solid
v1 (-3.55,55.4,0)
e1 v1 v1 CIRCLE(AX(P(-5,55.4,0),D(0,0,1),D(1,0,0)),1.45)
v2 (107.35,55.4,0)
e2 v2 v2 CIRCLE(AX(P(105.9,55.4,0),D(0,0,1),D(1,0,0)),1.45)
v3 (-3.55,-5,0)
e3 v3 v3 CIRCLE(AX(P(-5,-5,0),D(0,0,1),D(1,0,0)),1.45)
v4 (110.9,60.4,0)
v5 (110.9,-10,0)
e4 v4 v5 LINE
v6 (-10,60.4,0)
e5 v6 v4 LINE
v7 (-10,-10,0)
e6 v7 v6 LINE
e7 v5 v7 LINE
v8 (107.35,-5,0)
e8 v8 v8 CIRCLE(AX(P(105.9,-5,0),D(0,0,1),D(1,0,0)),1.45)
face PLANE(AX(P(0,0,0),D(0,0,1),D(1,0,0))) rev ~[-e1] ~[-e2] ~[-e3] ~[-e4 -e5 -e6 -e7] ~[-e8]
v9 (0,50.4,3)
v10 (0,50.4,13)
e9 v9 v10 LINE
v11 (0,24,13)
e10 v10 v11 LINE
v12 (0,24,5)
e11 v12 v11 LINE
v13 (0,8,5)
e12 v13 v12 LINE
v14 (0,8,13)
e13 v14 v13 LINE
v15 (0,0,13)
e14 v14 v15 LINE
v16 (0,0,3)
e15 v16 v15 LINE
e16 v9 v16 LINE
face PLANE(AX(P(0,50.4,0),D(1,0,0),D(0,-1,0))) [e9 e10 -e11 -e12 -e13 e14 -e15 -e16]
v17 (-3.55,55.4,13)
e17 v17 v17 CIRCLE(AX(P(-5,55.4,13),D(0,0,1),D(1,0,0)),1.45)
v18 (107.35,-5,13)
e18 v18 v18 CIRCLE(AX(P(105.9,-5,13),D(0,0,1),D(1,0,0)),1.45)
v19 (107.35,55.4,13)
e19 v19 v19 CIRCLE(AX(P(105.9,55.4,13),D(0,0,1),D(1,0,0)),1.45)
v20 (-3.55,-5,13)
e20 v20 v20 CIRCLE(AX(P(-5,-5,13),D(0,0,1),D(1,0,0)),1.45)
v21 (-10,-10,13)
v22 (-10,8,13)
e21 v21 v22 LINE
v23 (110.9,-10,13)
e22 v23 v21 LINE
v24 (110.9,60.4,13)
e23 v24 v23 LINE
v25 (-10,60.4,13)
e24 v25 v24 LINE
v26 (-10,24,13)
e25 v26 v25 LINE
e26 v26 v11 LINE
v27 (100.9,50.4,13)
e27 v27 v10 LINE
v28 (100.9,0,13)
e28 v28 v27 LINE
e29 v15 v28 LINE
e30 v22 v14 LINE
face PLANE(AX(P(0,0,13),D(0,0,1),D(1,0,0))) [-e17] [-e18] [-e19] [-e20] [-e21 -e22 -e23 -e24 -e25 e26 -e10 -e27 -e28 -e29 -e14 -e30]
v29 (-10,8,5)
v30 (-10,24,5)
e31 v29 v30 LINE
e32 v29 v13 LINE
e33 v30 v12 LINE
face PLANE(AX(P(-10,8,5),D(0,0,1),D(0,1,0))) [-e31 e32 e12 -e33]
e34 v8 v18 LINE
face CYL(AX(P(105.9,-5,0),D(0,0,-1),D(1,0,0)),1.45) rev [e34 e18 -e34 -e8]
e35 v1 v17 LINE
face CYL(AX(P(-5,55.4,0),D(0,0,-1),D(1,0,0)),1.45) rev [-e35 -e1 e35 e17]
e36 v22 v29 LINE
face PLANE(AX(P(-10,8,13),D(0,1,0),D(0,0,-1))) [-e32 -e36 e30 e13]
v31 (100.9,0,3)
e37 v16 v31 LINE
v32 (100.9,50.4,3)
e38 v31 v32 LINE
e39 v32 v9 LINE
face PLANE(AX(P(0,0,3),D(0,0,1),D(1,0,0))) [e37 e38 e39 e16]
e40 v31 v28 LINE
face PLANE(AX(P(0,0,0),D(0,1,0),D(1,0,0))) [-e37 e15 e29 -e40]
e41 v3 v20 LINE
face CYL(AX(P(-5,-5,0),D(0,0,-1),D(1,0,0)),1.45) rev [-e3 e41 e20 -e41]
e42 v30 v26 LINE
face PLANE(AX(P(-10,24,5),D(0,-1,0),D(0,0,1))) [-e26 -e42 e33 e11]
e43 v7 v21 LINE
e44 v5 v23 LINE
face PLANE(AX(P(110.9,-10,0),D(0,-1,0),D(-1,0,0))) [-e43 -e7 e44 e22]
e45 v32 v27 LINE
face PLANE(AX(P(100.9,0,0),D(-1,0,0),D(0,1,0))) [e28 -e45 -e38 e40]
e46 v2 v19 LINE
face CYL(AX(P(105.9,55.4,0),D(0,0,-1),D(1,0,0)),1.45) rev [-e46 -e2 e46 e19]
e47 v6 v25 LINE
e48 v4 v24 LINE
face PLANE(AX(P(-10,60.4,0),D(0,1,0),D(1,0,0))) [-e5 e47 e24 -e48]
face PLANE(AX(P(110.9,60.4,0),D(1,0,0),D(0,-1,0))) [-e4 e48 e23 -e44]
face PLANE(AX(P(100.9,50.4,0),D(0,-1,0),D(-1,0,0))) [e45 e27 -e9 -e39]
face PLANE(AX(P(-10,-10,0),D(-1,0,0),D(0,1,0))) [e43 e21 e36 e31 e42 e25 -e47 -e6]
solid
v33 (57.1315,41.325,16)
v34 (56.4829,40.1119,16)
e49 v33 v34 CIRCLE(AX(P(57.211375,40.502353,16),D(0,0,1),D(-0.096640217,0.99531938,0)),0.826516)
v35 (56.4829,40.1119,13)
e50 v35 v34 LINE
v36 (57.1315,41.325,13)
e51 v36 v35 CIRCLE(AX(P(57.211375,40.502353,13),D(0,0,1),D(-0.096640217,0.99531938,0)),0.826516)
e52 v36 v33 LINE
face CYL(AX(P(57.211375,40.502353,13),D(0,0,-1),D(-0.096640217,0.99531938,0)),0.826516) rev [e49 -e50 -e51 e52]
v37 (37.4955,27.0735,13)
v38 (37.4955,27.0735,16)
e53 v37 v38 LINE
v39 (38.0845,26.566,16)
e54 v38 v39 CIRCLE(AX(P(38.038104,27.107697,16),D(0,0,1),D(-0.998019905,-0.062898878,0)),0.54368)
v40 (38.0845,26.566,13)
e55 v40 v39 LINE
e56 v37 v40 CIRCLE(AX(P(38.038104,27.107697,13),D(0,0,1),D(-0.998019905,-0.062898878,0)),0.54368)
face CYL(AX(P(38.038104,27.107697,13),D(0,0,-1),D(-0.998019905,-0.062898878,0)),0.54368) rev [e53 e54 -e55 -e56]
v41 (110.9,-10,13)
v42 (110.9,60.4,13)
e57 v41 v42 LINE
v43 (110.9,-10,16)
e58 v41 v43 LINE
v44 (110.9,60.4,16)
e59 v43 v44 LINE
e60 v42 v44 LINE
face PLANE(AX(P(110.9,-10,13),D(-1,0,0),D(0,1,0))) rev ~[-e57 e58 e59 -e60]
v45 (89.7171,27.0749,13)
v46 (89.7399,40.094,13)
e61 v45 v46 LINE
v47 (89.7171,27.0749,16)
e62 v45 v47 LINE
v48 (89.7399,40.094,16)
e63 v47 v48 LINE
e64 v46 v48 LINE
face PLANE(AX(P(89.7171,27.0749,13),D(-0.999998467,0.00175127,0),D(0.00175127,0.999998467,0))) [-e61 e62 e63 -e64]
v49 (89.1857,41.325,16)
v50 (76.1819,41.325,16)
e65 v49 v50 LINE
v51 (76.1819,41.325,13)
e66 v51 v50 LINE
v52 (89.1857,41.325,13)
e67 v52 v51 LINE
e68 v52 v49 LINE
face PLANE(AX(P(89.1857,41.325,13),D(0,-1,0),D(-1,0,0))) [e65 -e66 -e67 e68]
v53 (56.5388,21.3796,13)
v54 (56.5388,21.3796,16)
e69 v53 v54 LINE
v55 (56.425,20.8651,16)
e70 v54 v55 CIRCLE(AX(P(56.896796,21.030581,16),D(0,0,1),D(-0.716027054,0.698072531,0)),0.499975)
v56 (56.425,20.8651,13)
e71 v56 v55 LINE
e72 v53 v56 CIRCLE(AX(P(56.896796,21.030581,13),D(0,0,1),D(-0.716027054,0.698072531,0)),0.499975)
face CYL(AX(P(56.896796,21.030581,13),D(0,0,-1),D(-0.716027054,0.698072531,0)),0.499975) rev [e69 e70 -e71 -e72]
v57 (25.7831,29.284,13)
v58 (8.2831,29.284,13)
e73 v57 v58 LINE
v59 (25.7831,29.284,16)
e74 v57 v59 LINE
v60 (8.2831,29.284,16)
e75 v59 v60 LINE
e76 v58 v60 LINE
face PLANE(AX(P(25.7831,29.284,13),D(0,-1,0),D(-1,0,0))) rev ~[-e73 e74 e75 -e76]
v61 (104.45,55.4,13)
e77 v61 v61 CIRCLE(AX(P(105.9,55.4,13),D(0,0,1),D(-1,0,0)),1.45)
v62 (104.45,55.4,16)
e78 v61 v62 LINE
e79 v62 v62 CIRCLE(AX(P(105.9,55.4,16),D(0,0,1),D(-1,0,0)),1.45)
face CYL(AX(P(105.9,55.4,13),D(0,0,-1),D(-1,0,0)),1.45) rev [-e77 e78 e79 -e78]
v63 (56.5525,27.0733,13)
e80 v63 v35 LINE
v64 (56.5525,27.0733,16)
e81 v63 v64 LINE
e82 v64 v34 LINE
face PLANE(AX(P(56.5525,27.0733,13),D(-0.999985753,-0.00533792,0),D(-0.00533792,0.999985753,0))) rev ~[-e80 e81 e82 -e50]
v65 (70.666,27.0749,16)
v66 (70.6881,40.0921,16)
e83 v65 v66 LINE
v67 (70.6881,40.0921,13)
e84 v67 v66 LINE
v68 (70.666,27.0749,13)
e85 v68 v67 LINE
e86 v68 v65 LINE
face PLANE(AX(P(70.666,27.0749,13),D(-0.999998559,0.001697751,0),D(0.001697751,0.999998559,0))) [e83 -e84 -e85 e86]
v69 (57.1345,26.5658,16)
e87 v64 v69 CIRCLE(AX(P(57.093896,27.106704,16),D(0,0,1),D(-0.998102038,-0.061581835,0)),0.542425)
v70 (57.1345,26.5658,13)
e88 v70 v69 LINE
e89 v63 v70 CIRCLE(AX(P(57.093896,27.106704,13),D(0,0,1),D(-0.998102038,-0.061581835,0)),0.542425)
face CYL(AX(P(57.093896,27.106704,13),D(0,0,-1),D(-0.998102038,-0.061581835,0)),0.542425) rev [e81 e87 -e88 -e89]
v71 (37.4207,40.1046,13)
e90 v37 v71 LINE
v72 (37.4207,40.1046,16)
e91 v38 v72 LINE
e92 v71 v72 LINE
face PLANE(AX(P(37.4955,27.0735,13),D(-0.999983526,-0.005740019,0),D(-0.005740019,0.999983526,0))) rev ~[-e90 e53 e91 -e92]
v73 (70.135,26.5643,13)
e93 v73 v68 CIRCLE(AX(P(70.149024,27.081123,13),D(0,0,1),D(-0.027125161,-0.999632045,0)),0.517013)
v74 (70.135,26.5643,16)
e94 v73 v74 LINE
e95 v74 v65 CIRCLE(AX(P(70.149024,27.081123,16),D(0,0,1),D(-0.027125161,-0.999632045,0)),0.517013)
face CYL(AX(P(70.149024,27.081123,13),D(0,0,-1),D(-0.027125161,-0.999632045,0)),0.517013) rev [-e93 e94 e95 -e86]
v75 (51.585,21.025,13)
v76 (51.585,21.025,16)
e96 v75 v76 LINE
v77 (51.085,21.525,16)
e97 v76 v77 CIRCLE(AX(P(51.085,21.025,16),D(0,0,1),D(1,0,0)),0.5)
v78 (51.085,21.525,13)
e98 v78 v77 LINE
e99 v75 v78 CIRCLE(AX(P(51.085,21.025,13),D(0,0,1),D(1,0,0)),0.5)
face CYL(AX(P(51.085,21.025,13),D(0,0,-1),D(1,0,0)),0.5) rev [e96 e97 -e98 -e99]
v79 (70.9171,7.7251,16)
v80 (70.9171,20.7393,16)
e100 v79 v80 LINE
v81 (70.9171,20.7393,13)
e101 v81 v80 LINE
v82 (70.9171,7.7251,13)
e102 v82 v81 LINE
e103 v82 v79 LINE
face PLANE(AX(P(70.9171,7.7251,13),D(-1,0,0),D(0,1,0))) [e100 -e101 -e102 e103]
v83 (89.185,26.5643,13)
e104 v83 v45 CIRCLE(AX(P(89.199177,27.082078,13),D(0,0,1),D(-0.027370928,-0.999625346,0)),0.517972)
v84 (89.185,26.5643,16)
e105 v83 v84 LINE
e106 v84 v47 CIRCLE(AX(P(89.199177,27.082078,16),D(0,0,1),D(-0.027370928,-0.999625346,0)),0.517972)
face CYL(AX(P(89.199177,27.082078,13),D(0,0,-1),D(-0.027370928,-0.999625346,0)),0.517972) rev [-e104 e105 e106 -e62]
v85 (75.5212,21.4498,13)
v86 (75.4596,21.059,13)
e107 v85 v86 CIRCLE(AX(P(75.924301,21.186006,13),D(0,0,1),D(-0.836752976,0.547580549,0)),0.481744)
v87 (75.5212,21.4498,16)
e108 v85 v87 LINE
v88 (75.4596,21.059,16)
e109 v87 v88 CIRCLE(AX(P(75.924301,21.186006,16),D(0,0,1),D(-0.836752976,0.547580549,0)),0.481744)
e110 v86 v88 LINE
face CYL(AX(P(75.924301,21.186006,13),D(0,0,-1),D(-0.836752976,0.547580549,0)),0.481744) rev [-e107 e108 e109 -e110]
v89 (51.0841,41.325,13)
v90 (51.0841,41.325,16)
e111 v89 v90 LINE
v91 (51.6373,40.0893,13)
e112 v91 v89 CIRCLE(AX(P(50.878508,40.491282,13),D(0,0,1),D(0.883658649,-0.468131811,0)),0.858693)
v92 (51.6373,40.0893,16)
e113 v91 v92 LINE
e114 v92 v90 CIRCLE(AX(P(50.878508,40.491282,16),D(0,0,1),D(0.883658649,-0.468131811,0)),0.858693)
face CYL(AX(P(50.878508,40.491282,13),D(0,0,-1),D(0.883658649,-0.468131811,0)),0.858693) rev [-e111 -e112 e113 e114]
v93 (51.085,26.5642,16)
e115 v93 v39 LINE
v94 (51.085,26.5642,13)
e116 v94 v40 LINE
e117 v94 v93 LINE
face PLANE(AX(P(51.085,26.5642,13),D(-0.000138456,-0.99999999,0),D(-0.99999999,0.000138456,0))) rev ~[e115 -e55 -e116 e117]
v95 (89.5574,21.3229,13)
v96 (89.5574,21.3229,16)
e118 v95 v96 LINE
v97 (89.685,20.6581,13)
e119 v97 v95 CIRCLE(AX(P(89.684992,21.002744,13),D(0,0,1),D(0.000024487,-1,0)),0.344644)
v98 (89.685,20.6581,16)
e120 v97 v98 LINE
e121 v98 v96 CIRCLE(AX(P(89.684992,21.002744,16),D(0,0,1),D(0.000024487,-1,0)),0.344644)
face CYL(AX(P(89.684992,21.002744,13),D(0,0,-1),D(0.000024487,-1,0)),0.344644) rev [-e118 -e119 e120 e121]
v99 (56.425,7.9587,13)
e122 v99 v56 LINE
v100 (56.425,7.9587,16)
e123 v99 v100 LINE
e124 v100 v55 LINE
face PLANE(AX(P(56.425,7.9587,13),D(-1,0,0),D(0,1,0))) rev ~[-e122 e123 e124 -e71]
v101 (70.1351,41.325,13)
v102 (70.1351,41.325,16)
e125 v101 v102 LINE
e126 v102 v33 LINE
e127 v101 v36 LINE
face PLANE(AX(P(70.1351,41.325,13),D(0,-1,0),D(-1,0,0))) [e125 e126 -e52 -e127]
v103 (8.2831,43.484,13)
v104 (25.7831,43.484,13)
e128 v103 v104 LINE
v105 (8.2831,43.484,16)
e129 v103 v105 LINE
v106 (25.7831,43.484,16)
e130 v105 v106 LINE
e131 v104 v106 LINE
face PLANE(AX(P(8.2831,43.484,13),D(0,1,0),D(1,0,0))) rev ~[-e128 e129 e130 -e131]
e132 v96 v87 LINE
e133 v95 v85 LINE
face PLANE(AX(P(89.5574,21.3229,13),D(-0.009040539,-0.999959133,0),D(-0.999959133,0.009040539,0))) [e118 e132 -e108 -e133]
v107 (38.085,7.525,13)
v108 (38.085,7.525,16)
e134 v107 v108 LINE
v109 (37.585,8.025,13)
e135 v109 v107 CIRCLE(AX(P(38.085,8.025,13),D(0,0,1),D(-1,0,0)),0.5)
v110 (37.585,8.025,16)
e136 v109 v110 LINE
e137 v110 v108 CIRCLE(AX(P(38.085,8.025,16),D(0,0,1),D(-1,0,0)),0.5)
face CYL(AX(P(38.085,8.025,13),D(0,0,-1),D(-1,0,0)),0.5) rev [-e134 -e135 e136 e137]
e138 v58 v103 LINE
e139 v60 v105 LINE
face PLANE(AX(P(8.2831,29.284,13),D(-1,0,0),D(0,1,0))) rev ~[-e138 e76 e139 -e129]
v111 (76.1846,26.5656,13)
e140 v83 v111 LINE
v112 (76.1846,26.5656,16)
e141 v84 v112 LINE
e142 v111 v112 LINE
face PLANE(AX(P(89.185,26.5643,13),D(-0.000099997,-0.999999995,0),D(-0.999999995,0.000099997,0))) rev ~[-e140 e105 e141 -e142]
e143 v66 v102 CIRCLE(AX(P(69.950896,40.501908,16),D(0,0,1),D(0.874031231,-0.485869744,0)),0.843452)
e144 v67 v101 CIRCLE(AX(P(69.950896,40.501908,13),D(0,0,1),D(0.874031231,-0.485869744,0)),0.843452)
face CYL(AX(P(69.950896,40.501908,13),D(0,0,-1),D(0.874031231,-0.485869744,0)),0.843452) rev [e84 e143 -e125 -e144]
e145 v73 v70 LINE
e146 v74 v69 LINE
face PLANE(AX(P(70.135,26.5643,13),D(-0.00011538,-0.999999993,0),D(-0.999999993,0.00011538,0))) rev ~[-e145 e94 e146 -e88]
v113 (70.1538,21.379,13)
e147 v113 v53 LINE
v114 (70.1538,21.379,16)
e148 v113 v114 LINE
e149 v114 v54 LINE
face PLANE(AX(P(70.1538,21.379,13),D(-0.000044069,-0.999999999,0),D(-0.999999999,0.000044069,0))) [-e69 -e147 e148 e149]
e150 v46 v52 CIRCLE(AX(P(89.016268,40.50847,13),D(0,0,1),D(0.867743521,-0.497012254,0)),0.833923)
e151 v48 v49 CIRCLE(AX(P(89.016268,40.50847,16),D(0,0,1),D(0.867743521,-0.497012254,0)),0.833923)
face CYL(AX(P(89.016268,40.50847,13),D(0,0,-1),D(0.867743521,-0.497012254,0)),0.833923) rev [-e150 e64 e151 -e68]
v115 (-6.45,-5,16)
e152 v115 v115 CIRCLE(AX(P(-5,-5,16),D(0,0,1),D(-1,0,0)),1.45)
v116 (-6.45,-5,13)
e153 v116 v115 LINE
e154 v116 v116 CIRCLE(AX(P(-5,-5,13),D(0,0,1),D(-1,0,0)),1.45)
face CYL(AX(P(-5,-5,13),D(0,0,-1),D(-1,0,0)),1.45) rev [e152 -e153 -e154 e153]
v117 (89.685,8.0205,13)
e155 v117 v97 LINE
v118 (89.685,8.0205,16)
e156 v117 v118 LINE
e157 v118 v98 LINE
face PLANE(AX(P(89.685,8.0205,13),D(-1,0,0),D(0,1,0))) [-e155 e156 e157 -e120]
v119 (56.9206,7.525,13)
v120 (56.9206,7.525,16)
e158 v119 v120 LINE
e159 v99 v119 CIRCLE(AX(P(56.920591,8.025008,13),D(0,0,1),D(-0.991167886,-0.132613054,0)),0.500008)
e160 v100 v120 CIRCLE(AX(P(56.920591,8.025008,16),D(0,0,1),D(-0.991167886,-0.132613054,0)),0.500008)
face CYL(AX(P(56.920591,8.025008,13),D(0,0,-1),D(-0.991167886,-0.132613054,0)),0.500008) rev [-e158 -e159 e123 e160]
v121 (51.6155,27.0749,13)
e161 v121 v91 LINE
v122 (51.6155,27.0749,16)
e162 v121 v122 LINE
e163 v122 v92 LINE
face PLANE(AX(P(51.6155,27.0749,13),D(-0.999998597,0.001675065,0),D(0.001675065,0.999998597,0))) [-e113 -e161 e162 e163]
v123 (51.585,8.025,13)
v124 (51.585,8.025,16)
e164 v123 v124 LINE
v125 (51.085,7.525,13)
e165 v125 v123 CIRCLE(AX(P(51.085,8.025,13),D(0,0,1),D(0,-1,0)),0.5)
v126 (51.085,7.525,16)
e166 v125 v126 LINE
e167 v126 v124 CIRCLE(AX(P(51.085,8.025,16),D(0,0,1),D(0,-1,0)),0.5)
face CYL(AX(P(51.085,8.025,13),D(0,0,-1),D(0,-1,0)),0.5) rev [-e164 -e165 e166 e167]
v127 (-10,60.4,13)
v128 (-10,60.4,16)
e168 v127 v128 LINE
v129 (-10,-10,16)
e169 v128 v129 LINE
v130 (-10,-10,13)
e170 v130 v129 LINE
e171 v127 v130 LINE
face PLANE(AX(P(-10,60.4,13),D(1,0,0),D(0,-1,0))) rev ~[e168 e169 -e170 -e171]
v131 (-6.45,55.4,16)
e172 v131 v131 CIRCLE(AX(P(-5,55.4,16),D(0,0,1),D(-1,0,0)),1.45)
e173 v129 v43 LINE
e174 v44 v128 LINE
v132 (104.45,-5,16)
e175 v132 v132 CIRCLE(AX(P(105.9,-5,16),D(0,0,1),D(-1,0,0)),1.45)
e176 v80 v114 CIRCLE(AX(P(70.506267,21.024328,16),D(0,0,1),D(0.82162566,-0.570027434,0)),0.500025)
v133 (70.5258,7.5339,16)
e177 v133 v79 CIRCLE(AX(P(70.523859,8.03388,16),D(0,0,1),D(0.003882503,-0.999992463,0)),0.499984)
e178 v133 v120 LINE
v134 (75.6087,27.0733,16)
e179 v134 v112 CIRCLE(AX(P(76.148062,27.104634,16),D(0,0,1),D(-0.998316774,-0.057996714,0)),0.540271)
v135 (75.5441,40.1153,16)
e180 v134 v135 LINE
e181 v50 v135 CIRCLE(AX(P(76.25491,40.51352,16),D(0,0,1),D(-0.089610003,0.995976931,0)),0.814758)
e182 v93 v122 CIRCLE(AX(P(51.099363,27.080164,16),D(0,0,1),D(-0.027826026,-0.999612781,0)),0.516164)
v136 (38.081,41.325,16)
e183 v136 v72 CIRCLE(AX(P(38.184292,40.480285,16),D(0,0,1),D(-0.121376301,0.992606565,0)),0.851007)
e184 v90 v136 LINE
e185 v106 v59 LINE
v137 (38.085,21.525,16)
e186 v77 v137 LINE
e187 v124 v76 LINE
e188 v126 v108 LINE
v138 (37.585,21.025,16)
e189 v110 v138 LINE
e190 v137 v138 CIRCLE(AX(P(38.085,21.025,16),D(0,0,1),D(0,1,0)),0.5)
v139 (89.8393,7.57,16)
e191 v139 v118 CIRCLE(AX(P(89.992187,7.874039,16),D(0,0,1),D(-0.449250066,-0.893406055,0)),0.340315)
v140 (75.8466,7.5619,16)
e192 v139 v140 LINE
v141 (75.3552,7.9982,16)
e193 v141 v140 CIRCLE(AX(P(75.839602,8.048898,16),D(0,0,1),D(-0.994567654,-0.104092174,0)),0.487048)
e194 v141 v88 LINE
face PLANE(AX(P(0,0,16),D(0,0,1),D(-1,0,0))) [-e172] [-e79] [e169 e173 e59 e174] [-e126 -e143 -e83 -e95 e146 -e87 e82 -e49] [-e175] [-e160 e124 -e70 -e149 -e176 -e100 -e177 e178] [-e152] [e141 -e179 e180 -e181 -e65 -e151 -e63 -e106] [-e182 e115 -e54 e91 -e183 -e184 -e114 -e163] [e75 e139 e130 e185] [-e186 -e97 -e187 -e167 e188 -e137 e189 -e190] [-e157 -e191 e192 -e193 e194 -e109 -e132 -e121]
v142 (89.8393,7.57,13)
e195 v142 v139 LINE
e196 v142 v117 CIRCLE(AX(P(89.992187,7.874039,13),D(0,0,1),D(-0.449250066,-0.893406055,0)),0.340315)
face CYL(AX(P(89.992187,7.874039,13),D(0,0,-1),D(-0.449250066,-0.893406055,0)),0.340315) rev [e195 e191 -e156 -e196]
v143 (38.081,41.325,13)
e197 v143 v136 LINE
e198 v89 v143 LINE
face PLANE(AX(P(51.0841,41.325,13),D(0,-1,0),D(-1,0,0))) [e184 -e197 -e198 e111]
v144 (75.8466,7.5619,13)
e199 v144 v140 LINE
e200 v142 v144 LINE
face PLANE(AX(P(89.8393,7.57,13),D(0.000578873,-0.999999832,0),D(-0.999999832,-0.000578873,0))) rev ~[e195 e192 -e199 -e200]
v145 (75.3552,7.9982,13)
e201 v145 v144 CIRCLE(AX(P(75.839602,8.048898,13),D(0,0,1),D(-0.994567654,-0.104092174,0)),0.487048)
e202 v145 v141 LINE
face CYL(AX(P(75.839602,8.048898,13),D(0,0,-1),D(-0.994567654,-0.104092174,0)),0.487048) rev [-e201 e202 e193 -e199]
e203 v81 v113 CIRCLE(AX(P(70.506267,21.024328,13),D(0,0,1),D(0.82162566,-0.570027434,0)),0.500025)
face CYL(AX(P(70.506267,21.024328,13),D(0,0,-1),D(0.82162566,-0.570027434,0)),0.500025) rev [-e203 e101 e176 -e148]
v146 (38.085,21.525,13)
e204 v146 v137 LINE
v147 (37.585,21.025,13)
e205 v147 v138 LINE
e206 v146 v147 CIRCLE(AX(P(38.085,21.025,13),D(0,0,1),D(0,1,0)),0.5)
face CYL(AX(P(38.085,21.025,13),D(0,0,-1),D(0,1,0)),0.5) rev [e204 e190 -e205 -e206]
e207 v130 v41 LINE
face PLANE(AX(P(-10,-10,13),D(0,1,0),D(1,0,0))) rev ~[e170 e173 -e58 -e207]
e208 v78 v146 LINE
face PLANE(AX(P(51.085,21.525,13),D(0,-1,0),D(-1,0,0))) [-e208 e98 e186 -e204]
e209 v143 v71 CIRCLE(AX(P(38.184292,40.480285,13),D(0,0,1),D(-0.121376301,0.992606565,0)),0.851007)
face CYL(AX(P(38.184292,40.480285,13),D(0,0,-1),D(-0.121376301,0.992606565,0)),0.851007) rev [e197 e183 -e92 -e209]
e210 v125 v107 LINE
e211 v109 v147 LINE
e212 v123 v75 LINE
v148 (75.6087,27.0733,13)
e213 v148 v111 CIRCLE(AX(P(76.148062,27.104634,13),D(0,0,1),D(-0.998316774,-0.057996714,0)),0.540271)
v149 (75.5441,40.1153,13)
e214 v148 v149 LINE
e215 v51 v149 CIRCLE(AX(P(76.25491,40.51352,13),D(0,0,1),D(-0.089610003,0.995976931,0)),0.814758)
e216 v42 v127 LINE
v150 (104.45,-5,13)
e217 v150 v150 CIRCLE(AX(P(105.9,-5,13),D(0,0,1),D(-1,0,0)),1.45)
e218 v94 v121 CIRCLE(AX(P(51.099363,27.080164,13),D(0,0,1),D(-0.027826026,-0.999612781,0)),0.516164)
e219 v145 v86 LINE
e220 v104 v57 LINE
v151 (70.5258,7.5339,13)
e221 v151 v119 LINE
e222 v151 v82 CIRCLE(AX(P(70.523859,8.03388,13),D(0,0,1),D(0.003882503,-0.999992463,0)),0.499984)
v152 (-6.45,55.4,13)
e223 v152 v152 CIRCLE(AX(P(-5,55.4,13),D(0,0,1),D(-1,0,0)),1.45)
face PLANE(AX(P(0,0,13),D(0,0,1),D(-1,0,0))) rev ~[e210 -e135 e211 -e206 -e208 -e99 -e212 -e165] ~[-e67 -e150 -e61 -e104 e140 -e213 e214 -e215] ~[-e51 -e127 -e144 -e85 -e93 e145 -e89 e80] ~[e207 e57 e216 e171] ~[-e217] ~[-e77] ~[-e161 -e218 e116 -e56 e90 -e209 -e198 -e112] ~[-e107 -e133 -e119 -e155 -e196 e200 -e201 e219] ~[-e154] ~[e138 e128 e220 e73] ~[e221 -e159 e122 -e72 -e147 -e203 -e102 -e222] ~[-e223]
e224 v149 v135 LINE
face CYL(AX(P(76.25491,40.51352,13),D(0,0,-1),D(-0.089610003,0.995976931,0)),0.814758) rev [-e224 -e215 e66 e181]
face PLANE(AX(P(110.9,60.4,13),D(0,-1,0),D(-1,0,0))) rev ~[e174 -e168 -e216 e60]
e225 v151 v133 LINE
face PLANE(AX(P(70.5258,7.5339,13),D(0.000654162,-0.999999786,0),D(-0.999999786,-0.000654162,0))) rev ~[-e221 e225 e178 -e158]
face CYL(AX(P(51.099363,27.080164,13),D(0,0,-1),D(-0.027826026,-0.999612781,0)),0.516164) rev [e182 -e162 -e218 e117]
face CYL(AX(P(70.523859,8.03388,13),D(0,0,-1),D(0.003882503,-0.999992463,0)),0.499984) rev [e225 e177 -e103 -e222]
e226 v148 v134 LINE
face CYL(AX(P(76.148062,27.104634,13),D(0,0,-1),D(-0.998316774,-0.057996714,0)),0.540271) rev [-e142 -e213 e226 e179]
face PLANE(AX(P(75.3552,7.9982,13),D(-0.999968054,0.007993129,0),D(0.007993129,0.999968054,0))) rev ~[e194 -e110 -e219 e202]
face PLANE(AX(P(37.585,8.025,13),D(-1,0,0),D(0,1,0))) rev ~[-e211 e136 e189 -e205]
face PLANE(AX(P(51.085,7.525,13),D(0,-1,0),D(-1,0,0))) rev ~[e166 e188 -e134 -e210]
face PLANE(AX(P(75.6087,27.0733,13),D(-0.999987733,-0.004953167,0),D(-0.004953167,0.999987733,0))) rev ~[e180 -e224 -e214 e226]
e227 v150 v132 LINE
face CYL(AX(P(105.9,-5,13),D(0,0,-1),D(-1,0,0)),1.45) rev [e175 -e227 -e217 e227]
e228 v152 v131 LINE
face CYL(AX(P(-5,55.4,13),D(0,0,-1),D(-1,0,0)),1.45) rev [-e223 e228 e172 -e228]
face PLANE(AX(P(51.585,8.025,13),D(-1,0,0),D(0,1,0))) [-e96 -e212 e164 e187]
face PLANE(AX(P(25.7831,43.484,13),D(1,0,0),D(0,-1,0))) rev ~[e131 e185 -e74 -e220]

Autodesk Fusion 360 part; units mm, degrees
sketch "Sketch1" plane through (0, 0, 0) normal (0, 0, 1) x (1, 0, 0)
  line L0 (0, 0) -> (100.9, 0)
  line L1 (100.9, 0) -> (100.9, 50.4)
  line L2 (100.9, 50.4) -> (0, 50.4)
  line L3 (0, 50.4) -> (0, 0)
  line L4 (-10, 60.4) -> (110.9, 60.4)
  line L5 (110.9, 60.4) -> (110.9, -10)
  line L6 (110.9, -10) -> (-10, -10)
  line L7 (-10, -10) -> (-10, 60.4)
  circle A0 centre (-5, 55.4) radius 1.45
  circle A1 centre (-5, -5) radius 1.45
  circle A2 centre (105.9, 55.4) radius 1.45
  circle A3 centre (105.9, -5) radius 1.45
  dimension "d1" = 100.9
  dimension "d2" = 50.4
  dimension "d3" = 10
  dimension "d4" = 10
  dimension "d5" = 10
  dimension "d6" = 10
  dimension "d7" = 2.9
  dimension "d8" = 2.9
  dimension "d9" = 2.9
  dimension "d10" = 2.9
  dimension "d11" = 5
  dimension "d12" = 5
  dimension "d13" = 5
  dimension "d14" = 5
  dimension "d15" = 5
  dimension "d16" = 5
  dimension "d17" = 5
  dimension "d18" = 5
extrude "Extrude1" add sketch "Sketch1" along normal blind 13 makes body 1
extrude "Extrude2" add sketch "Sketch1" along normal blind 3 contours L0 L1 L2 L3 bodies 1
sketch "plate-2026-06-09T01_52_59.866Z" plane through (0, 0, 13) normal (0, 0, 1) x (1, 0, 0)
  line L0 (3.025, -32.525) -> (16.025, -32.525)
  line L1 (3.025, -46.525) -> (16.025, -46.525)
  line L2 (2.525, -33.025) -> (2.525, -46.025)
  line L3 (16.525, -33.025) -> (16.525, -46.025)
  arc A0 (3.025, -32.525) -> (2.525, -33.025) centre (3.025, -33.025) ccw
  arc A1 (16.525, -33.025) -> (16.025, -32.525) centre (16.025, -33.025) ccw
  arc A2 (2.525, -46.025) -> (3.025, -46.525) centre (3.025, -46.025) ccw
  arc A3 (16.025, -46.525) -> (16.525, -46.025) centre (16.025, -46.025) ccw
  line L4 (22.075, -32.525) -> (35.075, -32.525)
  line L5 (22.075, -46.525) -> (35.075, -46.525)
  line L6 (21.575, -33.025) -> (21.575, -46.025)
  line L7 (35.575, -33.025) -> (35.575, -46.025)
  arc A4 (22.075, -32.525) -> (21.575, -33.025) centre (22.075, -33.025) ccw
  arc A5 (35.575, -33.025) -> (35.075, -32.525) centre (35.075, -33.025) ccw
  arc A6 (21.575, -46.025) -> (22.075, -46.525) centre (22.075, -46.025) ccw
  arc A7 (35.075, -46.525) -> (35.575, -46.025) centre (35.075, -46.025) ccw
  line L8 (41.125, -32.525) -> (54.125, -32.525)
  line L9 (41.125, -46.525) -> (54.125, -46.525)
  line L10 (40.625, -33.025) -> (40.625, -46.025)
  line L11 (54.625, -33.025) -> (54.625, -46.025)
  arc A8 (41.125, -32.525) -> (40.625, -33.025) centre (41.125, -33.025) ccw
  arc A9 (54.625, -33.025) -> (54.125, -32.525) centre (54.125, -33.025) ccw
  arc A10 (40.625, -46.025) -> (41.125, -46.525) centre (41.125, -46.025) ccw
  arc A11 (54.125, -46.525) -> (54.625, -46.025) centre (54.125, -46.025) ccw
  line L12 (0, -49.05) -> (57.15, -49.05)
  line L13 (0, -30) -> (57.15, -30)
  line L14 (0, -49.05) -> (0, -30)
  line L15 (57.15, -49.05) -> (57.15, -30)
sketch "Sketch3" plane through (0, 0, 13) normal (0, 0, 1) x (-1, 0, 0)
  circle A0 centre (5, 5) radius 1.45
  circle A1 centre (-105.9, -55.4) radius 1.45
  line L0 (0, 0) -> (0, -50.4)
  line L1 (0, -50.4) -> (-100.9, -50.4)
  line L2 (-100.9, -50.4) -> (-100.9, 0)
  line L3 (-100.9, 0) -> (0, 0)
  circle A2 centre (-105.9, 5) radius 1.45
  circle A3 centre (5, -55.4) radius 1.45
  line L4 (10, 10) -> (-110.9, 10)
  line L5 (-110.9, 10) -> (-110.9, -60.4)
  line L6 (-110.9, -60.4) -> (10, -60.4)
  line L7 (10, -60.4) -> (10, 10)
  line L8 (10, -60.4) -> (-110.9, -60.4)
  line L9 (-110.9, -60.4) -> (-110.9, 10)
  line L10 (-110.9, 10) -> (10, 10)
  line L11 (10, 10) -> (10, -60.4)
  line L12 (-100.9, 0) -> (-100.9, -50.4)
  line L13 (-89.8393, -7.57) -> (-75.8466, -7.5619)
  line L14 (-89.5574, -21.3229) -> (-75.5212, -21.4498)
  line L15 (-89.685, -8.0205) -> (-89.685, -20.6581)
  line L16 (-75.3552, -7.9982) -> (-75.4596, -21.059)
  arc A4 (-89.8393, -7.57) -> (-89.685, -8.0205) centre (-89.9922, -7.874) ccw
  arc A5 (-75.3552, -7.9982) -> (-75.8466, -7.5619) centre (-75.8396, -8.0489) ccw
  arc A6 (-89.685, -20.6581) -> (-89.5574, -21.3229) centre (-89.685, -21.0027) ccw
  arc A7 (-75.5212, -21.4498) -> (-75.4596, -21.059) centre (-75.9243, -21.186) ccw
  line L17 (-70.5258, -7.5339) -> (-56.9206, -7.525)
  line L18 (-70.1538, -21.379) -> (-56.5388, -21.3796)
  line L19 (-70.9171, -7.7251) -> (-70.9171, -20.7393)
  line L20 (-56.425, -7.9587) -> (-56.425, -20.8651)
  arc A8 (-70.5258, -7.5339) -> (-70.9171, -7.7251) centre (-70.5239, -8.0339) ccw
  arc A9 (-56.425, -7.9587) -> (-56.9206, -7.525) centre (-56.9206, -8.025) ccw
  arc A10 (-70.9171, -20.7393) -> (-70.1538, -21.379) centre (-70.5063, -21.0243) ccw
  arc A11 (-56.5388, -21.3796) -> (-56.425, -20.8651) centre (-56.8968, -21.0306) ccw
  line L21 (-51.085, -7.525) -> (-38.085, -7.525)
  line L22 (-51.085, -21.525) -> (-38.085, -21.525)
  line L23 (-51.585, -8.025) -> (-51.585, -21.025)
  line L24 (-37.585, -8.025) -> (-37.585, -21.025)
  arc A12 (-51.085, -7.525) -> (-51.585, -8.025) centre (-51.085, -8.025) ccw
  arc A13 (-37.585, -8.025) -> (-38.085, -7.525) centre (-38.085, -8.025) ccw
  arc A14 (-51.585, -21.025) -> (-51.085, -21.525) centre (-51.085, -21.025) ccw
  arc A15 (-38.085, -21.525) -> (-37.585, -21.025) centre (-38.085, -21.025) ccw
  line L25 (-89.185, -26.5643) -> (-76.1846, -26.5656)
  line L26 (-89.1857, -41.325) -> (-76.1819, -41.325)
  line L27 (-89.7171, -27.0749) -> (-89.7399, -40.094)
  line L28 (-75.6087, -27.0733) -> (-75.5441, -40.1153)
  arc A16 (-89.185, -26.5643) -> (-89.7171, -27.0749) centre (-89.1992, -27.0821) ccw
  arc A17 (-75.6087, -27.0733) -> (-76.1846, -26.5656) centre (-76.1481, -27.1046) ccw
  arc A18 (-89.7399, -40.094) -> (-89.1857, -41.325) centre (-89.0163, -40.5084) ccw
  arc A19 (-76.1819, -41.325) -> (-75.5441, -40.1153) centre (-76.2549, -40.5135) ccw
  line L29 (-70.135, -26.5643) -> (-57.1345, -26.5658)
  line L30 (-70.1351, -41.325) -> (-57.1315, -41.325)
  line L31 (-70.666, -27.0749) -> (-70.6881, -40.0921)
  line L32 (-56.5525, -27.0733) -> (-56.4829, -40.1119)
  arc A20 (-70.135, -26.5643) -> (-70.666, -27.0749) centre (-70.149, -27.0811) ccw
  arc A21 (-56.5525, -27.0733) -> (-57.1345, -26.5658) centre (-57.0939, -27.1067) ccw
  arc A22 (-70.6881, -40.0921) -> (-70.1351, -41.325) centre (-69.9509, -40.5019) ccw
  arc A23 (-57.1315, -41.325) -> (-56.4829, -40.1119) centre (-57.2114, -40.5024) ccw
  line L33 (-51.085, -26.5642) -> (-38.0845, -26.566)
  line L34 (-51.0841, -41.325) -> (-38.081, -41.325)
  line L35 (-51.6155, -27.0749) -> (-51.6373, -40.0893)
  line L36 (-37.4955, -27.0735) -> (-37.4207, -40.1046)
  arc A24 (-51.085, -26.5642) -> (-51.6155, -27.0749) centre (-51.0994, -27.0802) ccw
  arc A25 (-37.4955, -27.0735) -> (-38.0845, -26.566) centre (-38.0381, -27.1077) ccw
  arc A26 (-51.6373, -40.0893) -> (-51.0841, -41.325) centre (-50.8785, -40.4913) ccw
  arc A27 (-38.081, -41.325) -> (-37.4207, -40.1046) centre (-38.1843, -40.4803) ccw
  line L37 (-92.21, -43.85) -> (-35.06, -43.85)
  line L38 (-92.21, -5) -> (-35.06, -5)
  line L39 (-92.21, -43.85) -> (-92.21, -5)
  line L40 (-35.06, -43.85) -> (-35.06, -5)
  line L41 (10, -60.4) -> (-110.9, -60.4)
  line L42 (-110.9, -60.4) -> (-110.9, 10)
  line L43 (-110.9, 10) -> (10, 10)
  line L44 (10, 10) -> (10, -60.4)
  line L45 (-8.2831, -43.484) -> (-25.7831, -43.484)
  line L46 (-25.7831, -43.484) -> (-25.7831, -29.284)
  line L47 (-25.7831, -29.284) -> (-8.2831, -29.284)
  line L48 (-8.2831, -29.284) -> (-8.2831, -43.484)
  dimension "d24" = 6.55
  dimension "d25" = 2.525
  dimension "d26" = 2.525
  dimension "d27" = 2.525
  dimension "d28" = 2.525
  dimension "d29" = 13.0038
  dimension "d30" = 8.69
  dimension "d31" = 2.525
  dimension "d32" = 17.5
  dimension "d33" = 14.2
  dimension "d34" = 9.2769
extrude "Extrude3" add sketch "Sketch3" along normal blind 3 separate body contours L0 L1 L2 L3 L12 | L4 L5 L6 L7 L8 L9 L10 L11 L41 L42 L43 L44 | L37 L38 L39 L40 makes body 2
sketch "Sketch4" plane through (0, 0, 0) normal (1, 0, 0) x (0, 1, 0)
  line L0 (40, 10) -> (56, 10)
  line L1 (56, 10) -> (56, 2)
  line L2 (56, 2) -> (40, 2)
  line L3 (40, 2) -> (40, 10)
  dimension "d37" = 16
  dimension "d38" = 8
sketch "Sketch5" plane through (-10, 0, 0) normal (-1, 0, 0) x (0, -1, 0)
  line L0 (-60.4, 13) -> (10, 13)
  line L1 (10, 13) -> (10, 16)
  line L2 (10, 16) -> (-60.4, 16)
  line L3 (-60.4, 16) -> (-60.4, 13)
  line L4 (-24, 13) -> (-8, 13)
  line L5 (-8, 13) -> (-8, 5)
  line L6 (-8, 5) -> (-24, 5)
  line L7 (-24, 5) -> (-24, 13)
  dimension "d39" = 16
extrude "Extrude4" cut sketch "Sketch5" against normal blind 10 contours L0 L4 L5 L6 L7 bodies 1
